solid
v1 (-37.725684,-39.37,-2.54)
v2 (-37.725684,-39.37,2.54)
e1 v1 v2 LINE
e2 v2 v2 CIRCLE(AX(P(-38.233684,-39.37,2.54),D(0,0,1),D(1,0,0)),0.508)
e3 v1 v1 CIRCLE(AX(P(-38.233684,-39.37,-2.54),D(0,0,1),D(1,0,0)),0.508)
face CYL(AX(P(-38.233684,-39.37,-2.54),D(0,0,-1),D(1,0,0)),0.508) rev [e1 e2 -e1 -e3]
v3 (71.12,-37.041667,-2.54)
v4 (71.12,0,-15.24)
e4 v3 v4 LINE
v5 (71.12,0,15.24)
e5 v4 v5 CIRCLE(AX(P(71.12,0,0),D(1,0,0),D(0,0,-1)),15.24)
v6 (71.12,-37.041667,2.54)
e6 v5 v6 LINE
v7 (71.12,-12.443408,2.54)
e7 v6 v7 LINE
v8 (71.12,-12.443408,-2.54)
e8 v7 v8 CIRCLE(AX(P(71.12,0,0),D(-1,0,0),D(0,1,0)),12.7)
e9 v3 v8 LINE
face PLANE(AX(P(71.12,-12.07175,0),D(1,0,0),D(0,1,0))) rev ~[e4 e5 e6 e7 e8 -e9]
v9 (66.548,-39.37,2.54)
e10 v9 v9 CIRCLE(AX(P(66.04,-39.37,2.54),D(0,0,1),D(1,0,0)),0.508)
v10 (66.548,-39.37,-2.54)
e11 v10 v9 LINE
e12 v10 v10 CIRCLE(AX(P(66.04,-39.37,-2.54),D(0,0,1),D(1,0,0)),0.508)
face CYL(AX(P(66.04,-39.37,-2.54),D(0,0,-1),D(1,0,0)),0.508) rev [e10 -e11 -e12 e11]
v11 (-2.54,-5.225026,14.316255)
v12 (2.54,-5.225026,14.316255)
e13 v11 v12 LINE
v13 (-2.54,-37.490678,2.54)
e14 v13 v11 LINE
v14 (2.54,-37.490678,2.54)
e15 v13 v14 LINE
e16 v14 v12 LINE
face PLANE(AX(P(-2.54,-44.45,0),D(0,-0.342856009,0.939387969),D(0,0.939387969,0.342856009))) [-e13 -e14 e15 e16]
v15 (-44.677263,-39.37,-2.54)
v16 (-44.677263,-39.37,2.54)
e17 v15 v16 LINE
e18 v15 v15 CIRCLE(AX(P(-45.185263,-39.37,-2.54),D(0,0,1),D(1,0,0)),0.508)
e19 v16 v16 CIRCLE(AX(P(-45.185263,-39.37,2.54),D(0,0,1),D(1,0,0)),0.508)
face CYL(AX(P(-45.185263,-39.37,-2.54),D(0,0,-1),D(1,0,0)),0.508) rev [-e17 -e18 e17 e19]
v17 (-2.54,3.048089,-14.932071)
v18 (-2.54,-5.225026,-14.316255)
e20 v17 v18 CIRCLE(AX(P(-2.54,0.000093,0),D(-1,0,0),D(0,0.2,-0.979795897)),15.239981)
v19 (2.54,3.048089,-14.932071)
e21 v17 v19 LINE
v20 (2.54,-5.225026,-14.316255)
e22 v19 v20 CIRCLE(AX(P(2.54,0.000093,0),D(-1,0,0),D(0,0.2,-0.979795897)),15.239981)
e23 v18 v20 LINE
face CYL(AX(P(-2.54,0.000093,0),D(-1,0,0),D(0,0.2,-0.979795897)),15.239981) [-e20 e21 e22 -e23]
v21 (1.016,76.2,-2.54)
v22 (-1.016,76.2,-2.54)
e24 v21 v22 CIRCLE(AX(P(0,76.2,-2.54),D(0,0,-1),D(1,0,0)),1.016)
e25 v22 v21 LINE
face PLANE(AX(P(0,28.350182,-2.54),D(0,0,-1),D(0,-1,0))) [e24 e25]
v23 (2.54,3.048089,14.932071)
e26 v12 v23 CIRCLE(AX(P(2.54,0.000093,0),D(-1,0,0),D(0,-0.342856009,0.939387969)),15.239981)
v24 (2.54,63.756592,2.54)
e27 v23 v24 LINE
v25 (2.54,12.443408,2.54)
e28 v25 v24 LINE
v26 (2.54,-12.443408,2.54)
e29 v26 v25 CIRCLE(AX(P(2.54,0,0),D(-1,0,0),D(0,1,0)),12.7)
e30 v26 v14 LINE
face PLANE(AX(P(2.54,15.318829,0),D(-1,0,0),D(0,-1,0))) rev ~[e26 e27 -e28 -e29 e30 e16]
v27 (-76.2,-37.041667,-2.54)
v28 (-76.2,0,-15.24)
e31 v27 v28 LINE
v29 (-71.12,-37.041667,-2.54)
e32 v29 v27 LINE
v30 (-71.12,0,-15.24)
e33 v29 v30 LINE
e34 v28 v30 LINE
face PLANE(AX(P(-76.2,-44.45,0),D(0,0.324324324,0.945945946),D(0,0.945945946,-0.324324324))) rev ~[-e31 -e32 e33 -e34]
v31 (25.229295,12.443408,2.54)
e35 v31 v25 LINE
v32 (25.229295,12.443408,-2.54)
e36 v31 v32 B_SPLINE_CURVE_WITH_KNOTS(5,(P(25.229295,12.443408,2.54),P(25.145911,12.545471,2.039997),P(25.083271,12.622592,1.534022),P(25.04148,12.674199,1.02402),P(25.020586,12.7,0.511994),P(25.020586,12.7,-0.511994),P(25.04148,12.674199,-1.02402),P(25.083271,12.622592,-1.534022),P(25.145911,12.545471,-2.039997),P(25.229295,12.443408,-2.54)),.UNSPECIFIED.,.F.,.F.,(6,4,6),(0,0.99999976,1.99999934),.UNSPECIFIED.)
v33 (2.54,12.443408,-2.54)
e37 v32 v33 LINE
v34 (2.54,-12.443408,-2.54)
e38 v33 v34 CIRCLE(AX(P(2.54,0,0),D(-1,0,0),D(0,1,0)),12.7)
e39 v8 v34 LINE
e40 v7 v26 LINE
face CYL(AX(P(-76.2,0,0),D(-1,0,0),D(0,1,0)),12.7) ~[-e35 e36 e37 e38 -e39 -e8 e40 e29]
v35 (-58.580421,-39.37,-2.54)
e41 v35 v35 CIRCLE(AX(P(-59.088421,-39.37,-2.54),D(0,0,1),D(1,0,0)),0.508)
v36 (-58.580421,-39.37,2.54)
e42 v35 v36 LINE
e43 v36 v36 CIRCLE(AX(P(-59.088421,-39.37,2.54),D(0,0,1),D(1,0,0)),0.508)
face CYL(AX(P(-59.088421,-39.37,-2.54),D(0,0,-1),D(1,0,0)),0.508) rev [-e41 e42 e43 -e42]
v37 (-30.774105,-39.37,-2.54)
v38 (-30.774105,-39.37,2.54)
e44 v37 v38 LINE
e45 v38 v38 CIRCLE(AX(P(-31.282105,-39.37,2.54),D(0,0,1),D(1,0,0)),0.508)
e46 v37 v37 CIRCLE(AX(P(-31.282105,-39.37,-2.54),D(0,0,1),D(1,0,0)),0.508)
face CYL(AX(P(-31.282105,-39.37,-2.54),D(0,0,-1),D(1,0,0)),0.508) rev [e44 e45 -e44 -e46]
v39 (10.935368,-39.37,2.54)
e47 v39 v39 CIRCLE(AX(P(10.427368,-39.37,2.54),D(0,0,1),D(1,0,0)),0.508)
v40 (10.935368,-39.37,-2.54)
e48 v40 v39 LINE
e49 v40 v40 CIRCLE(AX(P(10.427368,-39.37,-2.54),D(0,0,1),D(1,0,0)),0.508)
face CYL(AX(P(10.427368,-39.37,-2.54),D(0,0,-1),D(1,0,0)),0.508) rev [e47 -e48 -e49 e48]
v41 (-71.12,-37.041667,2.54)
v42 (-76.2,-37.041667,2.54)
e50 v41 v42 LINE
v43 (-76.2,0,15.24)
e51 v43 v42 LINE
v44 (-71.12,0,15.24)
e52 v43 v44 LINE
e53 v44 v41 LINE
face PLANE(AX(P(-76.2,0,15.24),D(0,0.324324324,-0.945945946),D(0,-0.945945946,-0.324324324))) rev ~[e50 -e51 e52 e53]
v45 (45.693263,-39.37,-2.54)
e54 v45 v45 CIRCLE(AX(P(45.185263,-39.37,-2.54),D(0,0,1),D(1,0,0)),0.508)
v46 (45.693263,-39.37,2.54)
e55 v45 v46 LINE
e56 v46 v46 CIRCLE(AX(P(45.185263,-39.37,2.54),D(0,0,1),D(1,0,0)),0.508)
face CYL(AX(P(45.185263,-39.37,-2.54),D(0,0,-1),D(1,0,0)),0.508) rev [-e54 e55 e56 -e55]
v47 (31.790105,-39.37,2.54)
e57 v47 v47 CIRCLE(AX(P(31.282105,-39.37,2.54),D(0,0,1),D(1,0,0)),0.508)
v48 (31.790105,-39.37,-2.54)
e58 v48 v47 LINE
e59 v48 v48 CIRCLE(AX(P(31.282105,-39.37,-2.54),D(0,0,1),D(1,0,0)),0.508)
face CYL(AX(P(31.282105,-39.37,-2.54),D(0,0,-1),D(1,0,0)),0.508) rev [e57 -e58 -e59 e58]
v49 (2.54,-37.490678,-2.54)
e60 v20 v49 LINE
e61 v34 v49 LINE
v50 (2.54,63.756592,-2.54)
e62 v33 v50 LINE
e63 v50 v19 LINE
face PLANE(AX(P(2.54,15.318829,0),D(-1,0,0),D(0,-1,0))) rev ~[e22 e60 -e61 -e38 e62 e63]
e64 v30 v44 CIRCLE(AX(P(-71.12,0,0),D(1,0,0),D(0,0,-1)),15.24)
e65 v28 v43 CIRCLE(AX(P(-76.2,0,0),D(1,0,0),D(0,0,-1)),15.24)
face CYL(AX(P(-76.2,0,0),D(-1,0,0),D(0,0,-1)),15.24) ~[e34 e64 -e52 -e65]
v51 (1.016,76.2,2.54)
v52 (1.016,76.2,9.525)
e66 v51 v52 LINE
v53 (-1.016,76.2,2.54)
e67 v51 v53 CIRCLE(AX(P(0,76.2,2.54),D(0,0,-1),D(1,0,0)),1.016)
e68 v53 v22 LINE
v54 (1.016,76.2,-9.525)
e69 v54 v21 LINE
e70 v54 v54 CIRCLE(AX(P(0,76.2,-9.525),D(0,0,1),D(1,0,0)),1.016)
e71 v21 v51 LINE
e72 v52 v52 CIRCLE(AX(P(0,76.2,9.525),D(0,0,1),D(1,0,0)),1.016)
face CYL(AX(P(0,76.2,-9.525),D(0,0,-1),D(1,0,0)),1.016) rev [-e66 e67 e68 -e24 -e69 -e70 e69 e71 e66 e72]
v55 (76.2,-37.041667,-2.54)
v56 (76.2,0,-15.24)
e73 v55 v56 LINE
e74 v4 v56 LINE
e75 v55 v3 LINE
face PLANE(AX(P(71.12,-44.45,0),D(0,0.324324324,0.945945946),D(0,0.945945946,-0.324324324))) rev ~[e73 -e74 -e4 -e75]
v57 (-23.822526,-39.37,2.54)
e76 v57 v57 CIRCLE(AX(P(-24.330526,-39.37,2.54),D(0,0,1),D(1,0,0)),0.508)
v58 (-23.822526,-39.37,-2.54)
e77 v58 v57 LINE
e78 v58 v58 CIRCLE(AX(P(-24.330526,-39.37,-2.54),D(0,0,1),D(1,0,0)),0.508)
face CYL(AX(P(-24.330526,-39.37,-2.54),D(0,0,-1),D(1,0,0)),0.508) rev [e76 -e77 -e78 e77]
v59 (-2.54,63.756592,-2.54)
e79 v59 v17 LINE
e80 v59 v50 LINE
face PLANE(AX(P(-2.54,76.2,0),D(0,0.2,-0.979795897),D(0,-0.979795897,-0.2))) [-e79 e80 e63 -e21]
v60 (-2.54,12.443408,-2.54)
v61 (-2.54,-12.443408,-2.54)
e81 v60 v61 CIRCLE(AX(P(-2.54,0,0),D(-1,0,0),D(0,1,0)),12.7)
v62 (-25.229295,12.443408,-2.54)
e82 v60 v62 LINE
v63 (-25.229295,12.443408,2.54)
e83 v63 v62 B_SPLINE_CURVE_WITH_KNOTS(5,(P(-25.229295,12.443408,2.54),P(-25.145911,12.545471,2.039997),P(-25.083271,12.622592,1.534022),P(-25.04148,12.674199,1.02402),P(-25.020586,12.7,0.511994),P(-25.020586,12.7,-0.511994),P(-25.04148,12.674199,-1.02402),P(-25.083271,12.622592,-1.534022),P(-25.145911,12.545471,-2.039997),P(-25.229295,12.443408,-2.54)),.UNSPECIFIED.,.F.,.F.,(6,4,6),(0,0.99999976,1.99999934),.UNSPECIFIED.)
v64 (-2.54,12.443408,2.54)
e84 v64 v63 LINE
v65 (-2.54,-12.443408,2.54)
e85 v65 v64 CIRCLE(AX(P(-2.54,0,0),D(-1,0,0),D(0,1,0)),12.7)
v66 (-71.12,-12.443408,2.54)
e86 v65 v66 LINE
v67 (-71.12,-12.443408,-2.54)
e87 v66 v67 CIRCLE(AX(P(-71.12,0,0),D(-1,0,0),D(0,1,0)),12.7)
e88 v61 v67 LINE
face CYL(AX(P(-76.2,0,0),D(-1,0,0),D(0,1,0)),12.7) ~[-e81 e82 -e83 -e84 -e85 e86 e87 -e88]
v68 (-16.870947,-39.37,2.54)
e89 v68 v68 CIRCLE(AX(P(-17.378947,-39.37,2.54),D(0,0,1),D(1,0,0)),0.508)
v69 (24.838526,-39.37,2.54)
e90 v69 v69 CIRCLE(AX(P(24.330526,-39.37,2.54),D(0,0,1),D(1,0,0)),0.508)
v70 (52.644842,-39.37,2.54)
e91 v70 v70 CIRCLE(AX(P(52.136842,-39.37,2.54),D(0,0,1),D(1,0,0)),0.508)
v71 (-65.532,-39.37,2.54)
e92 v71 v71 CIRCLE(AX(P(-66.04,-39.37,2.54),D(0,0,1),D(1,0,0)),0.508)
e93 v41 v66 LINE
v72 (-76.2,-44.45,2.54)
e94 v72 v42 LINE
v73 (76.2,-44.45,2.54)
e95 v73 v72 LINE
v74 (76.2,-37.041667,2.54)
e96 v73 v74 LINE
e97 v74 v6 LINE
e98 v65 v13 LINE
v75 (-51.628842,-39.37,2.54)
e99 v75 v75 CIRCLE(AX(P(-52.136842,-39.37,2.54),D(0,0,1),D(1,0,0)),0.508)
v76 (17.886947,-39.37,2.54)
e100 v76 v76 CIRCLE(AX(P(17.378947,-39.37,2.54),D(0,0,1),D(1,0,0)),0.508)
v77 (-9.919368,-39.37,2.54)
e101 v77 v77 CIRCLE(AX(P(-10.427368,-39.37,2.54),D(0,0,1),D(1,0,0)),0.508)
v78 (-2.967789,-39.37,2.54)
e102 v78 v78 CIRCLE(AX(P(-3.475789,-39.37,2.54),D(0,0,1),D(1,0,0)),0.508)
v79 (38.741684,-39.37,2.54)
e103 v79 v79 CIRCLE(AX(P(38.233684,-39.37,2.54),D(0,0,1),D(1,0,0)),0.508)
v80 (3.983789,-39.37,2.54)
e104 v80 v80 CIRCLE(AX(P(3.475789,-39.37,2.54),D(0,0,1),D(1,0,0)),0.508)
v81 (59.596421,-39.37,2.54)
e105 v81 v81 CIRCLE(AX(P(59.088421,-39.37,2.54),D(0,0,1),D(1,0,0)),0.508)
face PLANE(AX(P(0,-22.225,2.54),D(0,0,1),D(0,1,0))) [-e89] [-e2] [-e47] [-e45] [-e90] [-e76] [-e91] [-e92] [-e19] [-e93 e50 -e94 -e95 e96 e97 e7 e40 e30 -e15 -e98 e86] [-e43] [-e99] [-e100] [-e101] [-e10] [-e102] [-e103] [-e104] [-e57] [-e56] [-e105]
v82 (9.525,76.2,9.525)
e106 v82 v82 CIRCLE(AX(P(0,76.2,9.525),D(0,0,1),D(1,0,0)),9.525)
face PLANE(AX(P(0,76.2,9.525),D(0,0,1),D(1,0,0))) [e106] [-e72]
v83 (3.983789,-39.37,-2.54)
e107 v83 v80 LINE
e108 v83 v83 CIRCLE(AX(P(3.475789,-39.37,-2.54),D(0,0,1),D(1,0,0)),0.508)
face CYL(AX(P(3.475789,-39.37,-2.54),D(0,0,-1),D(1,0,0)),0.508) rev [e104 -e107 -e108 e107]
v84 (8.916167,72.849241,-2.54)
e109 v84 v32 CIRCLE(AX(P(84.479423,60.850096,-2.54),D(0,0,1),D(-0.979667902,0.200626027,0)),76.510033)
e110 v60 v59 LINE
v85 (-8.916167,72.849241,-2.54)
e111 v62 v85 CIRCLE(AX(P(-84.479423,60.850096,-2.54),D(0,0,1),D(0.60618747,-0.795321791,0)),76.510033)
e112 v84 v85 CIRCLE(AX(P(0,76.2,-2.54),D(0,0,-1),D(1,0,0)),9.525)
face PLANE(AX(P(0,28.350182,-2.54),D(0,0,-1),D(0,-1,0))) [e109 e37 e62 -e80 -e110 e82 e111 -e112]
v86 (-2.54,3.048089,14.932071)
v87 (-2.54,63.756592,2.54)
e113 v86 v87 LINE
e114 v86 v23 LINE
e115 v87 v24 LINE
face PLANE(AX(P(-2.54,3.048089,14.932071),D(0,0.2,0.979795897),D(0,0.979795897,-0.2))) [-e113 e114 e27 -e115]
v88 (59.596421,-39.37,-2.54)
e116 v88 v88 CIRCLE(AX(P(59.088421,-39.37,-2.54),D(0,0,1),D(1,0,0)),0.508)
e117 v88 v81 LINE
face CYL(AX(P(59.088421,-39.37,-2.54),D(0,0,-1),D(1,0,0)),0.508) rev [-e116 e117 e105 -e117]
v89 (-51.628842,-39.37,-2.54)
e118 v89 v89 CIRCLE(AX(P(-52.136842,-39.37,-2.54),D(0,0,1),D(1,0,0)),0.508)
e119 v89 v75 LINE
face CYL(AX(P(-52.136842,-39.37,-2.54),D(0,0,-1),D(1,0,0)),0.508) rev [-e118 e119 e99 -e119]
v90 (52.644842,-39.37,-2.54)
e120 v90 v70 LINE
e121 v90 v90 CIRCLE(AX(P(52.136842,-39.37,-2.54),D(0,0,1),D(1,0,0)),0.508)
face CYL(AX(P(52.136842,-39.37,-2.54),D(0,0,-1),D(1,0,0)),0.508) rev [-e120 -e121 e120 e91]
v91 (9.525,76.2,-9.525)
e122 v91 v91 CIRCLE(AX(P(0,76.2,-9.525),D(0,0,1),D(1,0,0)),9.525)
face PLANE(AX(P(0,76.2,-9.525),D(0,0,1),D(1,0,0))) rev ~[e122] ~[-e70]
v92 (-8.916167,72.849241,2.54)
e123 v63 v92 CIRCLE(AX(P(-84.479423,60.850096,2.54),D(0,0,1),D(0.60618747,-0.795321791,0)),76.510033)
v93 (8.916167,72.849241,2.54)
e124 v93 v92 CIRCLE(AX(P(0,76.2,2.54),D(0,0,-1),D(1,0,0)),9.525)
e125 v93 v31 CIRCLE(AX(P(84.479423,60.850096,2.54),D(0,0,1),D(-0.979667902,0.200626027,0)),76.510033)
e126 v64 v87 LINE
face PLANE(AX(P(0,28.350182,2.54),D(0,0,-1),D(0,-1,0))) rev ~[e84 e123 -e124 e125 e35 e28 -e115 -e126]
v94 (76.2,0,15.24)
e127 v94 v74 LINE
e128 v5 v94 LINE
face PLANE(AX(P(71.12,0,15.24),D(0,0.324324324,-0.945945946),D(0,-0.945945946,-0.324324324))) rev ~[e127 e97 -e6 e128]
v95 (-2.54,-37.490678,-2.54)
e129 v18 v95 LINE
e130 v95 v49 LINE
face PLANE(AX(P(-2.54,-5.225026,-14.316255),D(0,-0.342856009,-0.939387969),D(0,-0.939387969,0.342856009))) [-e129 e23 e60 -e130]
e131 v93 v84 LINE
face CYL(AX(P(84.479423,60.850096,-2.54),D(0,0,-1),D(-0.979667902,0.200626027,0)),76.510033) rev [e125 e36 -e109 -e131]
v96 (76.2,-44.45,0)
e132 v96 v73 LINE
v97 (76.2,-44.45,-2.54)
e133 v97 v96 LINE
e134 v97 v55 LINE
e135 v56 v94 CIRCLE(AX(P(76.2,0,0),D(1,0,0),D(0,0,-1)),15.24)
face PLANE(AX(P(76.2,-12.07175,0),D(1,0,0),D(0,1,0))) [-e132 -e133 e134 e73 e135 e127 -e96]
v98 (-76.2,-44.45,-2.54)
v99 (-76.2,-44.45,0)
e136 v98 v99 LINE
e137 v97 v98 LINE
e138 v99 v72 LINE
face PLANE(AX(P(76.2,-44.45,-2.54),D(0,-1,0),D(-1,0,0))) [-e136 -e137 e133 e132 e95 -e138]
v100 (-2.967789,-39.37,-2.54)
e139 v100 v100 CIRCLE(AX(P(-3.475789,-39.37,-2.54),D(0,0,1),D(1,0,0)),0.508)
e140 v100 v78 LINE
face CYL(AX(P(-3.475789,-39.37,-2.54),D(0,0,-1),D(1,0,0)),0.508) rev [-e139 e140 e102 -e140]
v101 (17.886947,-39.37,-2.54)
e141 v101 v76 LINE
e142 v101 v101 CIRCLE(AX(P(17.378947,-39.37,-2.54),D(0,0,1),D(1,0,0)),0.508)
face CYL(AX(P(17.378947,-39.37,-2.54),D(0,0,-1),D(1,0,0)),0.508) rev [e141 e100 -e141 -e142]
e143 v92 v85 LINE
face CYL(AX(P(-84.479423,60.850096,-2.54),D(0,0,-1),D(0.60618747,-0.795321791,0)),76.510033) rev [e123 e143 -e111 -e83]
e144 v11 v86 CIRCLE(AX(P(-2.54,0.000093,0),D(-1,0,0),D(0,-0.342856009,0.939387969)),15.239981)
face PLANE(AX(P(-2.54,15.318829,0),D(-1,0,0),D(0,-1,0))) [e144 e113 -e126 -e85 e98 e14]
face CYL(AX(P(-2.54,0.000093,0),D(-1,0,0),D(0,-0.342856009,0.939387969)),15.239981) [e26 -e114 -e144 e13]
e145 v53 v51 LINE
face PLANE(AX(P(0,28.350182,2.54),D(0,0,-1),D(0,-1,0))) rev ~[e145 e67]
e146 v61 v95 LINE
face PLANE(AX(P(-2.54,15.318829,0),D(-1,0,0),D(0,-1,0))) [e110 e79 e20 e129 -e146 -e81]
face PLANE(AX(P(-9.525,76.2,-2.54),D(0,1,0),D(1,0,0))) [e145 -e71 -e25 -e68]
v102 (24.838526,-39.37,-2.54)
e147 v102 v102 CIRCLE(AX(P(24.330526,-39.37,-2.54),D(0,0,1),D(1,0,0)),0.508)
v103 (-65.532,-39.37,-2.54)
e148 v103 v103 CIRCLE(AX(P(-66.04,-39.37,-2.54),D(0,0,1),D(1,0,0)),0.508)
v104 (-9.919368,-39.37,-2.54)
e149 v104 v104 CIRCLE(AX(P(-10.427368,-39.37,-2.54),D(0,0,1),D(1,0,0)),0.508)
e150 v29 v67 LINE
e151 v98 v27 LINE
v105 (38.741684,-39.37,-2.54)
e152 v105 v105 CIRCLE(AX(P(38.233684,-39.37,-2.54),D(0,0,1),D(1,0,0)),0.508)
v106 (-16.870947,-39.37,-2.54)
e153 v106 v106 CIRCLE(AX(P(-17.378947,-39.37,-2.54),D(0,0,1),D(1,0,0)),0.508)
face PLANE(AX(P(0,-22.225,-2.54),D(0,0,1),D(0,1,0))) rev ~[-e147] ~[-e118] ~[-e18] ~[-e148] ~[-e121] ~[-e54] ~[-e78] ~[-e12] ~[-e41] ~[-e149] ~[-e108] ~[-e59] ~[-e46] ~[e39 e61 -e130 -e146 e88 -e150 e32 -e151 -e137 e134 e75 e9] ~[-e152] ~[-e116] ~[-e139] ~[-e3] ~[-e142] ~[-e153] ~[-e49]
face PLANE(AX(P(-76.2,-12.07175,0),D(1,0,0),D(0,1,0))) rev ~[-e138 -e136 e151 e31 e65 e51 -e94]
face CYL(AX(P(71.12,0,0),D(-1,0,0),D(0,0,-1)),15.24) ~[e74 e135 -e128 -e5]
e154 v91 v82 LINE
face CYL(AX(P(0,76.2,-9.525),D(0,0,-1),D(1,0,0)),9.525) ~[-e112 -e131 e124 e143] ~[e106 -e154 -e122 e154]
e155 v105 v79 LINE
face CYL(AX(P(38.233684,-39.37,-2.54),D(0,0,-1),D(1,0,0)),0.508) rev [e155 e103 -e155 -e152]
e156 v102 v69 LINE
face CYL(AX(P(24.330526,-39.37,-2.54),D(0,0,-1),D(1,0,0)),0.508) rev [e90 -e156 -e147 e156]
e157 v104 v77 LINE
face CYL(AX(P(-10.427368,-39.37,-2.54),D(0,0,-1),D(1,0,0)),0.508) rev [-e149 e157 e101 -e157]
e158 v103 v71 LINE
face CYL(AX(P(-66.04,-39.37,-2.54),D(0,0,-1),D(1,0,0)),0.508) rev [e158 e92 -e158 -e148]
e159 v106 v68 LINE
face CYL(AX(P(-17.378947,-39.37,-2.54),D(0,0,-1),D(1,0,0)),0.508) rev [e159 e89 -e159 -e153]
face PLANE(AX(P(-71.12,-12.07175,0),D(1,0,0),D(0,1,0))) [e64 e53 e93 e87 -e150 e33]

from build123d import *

# Parameters (mm, degrees)
COEFFICIENTS_PLATE_DEPTH      = 2.54
COEFFICIENTS_PLATE_DEPTH_BACK = 2.54
COEFFICIENTS_PLATE_SKETCH_W   = 44.45
COEFFICIENTS_PLATE_SKETCH_H   = 152.4
COEFFICIENTS_PLATE_SKETCH_R   = 0.508
PIVOT_CYLINDER_DEPTH          = 76.2
PIVOT_CYLINDER_DEPTH_BACK     = 76.2
PIVOT_CYLINDER_SKETCH_R       = 12.7
EDGE_START                    = 71.12
EDGE_RIB_FRONT_DEPTH          = 5.08
EDGE_START_2                  = -76.2
EDGE_RIB_BACK_DEPTH           = 5.08
SUMMATION_PLATE_DEPTH         = 2.54
SUMMATION_PLATE_DEPTH_BACK    = 2.54
SUMMATION_ANCHOR_DEPTH        = 9.525
SUMMATION_ANCHOR_DEPTH_BACK   = 9.525
SUMMATION_ANCHOR_SKETCH_R     = 9.525
SUMMATION_ANCHOR_SKETCH_R_2   = 1.016
MIDDLE_RIB_DEPTH              = 2.54
MIDDLE_RIB_DEPTH_BACK         = 2.54


with BuildPart() as part:
    # Coefficients Plate Sketch → Coefficients Plate (new, two sides: drawn at the far end of the back side and taken through both)
    with BuildSketch(Plane(origin=(0, 0, 0), x_dir=(0, 1, 0), z_dir=(0, 0, 1)).offset(-COEFFICIENTS_PLATE_DEPTH_BACK)):
        with Locations((-22.225, 0)):
            Rectangle(COEFFICIENTS_PLATE_SKETCH_W, COEFFICIENTS_PLATE_SKETCH_H)
        with Locations(Location((-39.37, -66.04, 0), (0, 0, 270))):
            Circle(COEFFICIENTS_PLATE_SKETCH_R, mode=Mode.SUBTRACT)
        with Locations(Location((-39.37, -59.088421053, 0), (0, 0, 270))):
            Circle(COEFFICIENTS_PLATE_SKETCH_R, mode=Mode.SUBTRACT)
        with Locations(Location((-39.37, -52.136842105, 0), (0, 0, 270))):
            Circle(COEFFICIENTS_PLATE_SKETCH_R, mode=Mode.SUBTRACT)
        with Locations(Location((-39.37, -45.185263158, 0), (0, 0, 270))):
            Circle(COEFFICIENTS_PLATE_SKETCH_R, mode=Mode.SUBTRACT)
        with Locations(Location((-39.37, -38.233684211, 0), (0, 0, 270))):
            Circle(COEFFICIENTS_PLATE_SKETCH_R, mode=Mode.SUBTRACT)
        with Locations(Location((-39.37, -31.282105263, 0), (0, 0, 270))):
            Circle(COEFFICIENTS_PLATE_SKETCH_R, mode=Mode.SUBTRACT)
        with Locations(Location((-39.37, -24.330526316, 0), (0, 0, 270))):
            Circle(COEFFICIENTS_PLATE_SKETCH_R, mode=Mode.SUBTRACT)
        with Locations(Location((-39.37, -17.378947368, 0), (0, 0, 270))):
            Circle(COEFFICIENTS_PLATE_SKETCH_R, mode=Mode.SUBTRACT)
        with Locations(Location((-39.37, -10.427368421, 0), (0, 0, 270))):
            Circle(COEFFICIENTS_PLATE_SKETCH_R, mode=Mode.SUBTRACT)
        with Locations(Location((-39.37, -3.475789474, 0), (0, 0, 270))):
            Circle(COEFFICIENTS_PLATE_SKETCH_R, mode=Mode.SUBTRACT)
        with Locations(Location((-39.37, 3.475789474, 0), (0, 0, 270))):
            Circle(COEFFICIENTS_PLATE_SKETCH_R, mode=Mode.SUBTRACT)
        with Locations(Location((-39.37, 10.427368421, 0), (0, 0, 270))):
            Circle(COEFFICIENTS_PLATE_SKETCH_R, mode=Mode.SUBTRACT)
        with Locations(Location((-39.37, 17.378947368, 0), (0, 0, 270))):
            Circle(COEFFICIENTS_PLATE_SKETCH_R, mode=Mode.SUBTRACT)
        with Locations(Location((-39.37, 24.330526316, 0), (0, 0, 270))):
            Circle(COEFFICIENTS_PLATE_SKETCH_R, mode=Mode.SUBTRACT)
        with Locations(Location((-39.37, 31.282105263, 0), (0, 0, 270))):
            Circle(COEFFICIENTS_PLATE_SKETCH_R, mode=Mode.SUBTRACT)
        with Locations(Location((-39.37, 38.233684211, 0), (0, 0, 270))):
            Circle(COEFFICIENTS_PLATE_SKETCH_R, mode=Mode.SUBTRACT)
        with Locations(Location((-39.37, 45.185263158, 0), (0, 0, 270))):
            Circle(COEFFICIENTS_PLATE_SKETCH_R, mode=Mode.SUBTRACT)
        with Locations(Location((-39.37, 52.136842105, 0), (0, 0, 270))):
            Circle(COEFFICIENTS_PLATE_SKETCH_R, mode=Mode.SUBTRACT)
        with Locations(Location((-39.37, 59.088421053, 0), (0, 0, 270))):
            Circle(COEFFICIENTS_PLATE_SKETCH_R, mode=Mode.SUBTRACT)
        with Locations(Location((-39.37, 66.04, 0), (0, 0, 270))):
            Circle(COEFFICIENTS_PLATE_SKETCH_R, mode=Mode.SUBTRACT)
    extrude(amount=COEFFICIENTS_PLATE_DEPTH + COEFFICIENTS_PLATE_DEPTH_BACK)

    # Pivot Cylinder Sketch → Pivot Cylinder (add, two sides: drawn at the far end of the back side and taken through both)
    with BuildSketch(Plane.YZ.offset(-PIVOT_CYLINDER_DEPTH_BACK)):
        Circle(PIVOT_CYLINDER_SKETCH_R)
    extrude(amount=PIVOT_CYLINDER_DEPTH + PIVOT_CYLINDER_DEPTH_BACK)

    # Edge Rib Front Sketch → Edge Rib Front (add)
    with BuildSketch(Plane.YZ.offset(EDGE_START)):
        with BuildLine():
            Line((0, 15.24), (-44.45, 0))
            Line((-44.45, 0), (0, -15.24))
            ThreePointArc((0, -15.24), (15.24, 0), (0, 15.24))
        make_face()
    extrude(amount=EDGE_RIB_FRONT_DEPTH)

    # Edge Rib Back Sketch → Edge Rib Back (add)
    with BuildSketch(Plane.YZ.offset(EDGE_START_2)):
        with BuildLine():
            Line((0, 15.24), (-44.45, 0))
            Line((-44.45, 0), (0, -15.24))
            ThreePointArc((0, -15.24), (15.24, 0), (0, 15.24))
        make_face()
    extrude(amount=EDGE_RIB_BACK_DEPTH)

    # Summation Plate Sketch → Summation Plate (add, two sides: drawn at the far end of the back side and taken through both)
    with BuildSketch(Plane(origin=(0, 0, 0), x_dir=(0, 1, 0), z_dir=(0, 0, 1)).offset(-SUMMATION_PLATE_DEPTH_BACK)):
        with BuildLine():
            Line((0, -38.1), (0, 38.1))
            ThreePointArc((0, 38.1), (33.985630195, 12.840847186), (76.2, 9.525))
            Line((76.2, 9.525), (76.2, -9.525))
            ThreePointArc((76.2, -9.525), (33.985630195, -12.840847186), (0, -38.1))
        make_face()
    extrude(amount=SUMMATION_PLATE_DEPTH + SUMMATION_PLATE_DEPTH_BACK)

    # Summation Anchor Sketch → Summation Anchor (add, two sides: drawn at the far end of the back side and taken through both)
    with BuildSketch(Plane(origin=(0, 0, 0), x_dir=(0, 1, 0), z_dir=(0, 0, 1)).offset(-SUMMATION_ANCHOR_DEPTH_BACK)):
        with Locations(Location((76.2, 0, 0), (0, 0, 270))):
            Circle(SUMMATION_ANCHOR_SKETCH_R)
        with Locations(Location((76.2, 0, 0), (0, 0, 270))):
            Circle(SUMMATION_ANCHOR_SKETCH_R_2, mode=Mode.SUBTRACT)
    extrude(amount=SUMMATION_ANCHOR_DEPTH + SUMMATION_ANCHOR_DEPTH_BACK)

    # Middle Rib Sketch → Middle Rib (add, two sides: drawn at the far end of the back side and taken through both)
    with BuildSketch(Plane.YZ.offset(-MIDDLE_RIB_DEPTH_BACK)):
        with BuildLine():
            Line((-44.45, 0), (-5.225026376, 14.316255211))
            ThreePointArc((-5.225026376, 14.316255211), (-1.131177872, 15.197936065), (3.048089123, 14.93207128))
            Line((3.048089123, 14.93207128), (76.2, 0))
            Line((76.2, 0), (3.048089123, -14.93207128))
            ThreePointArc((3.048089123, -14.93207128), (-1.131177872, -15.197936065), (-5.225026376, -14.316255211))
            Line((-5.225026376, -14.316255211), (-44.45, 0))
        make_face()
    extrude(amount=MIDDLE_RIB_DEPTH + MIDDLE_RIB_DEPTH_BACK)


solid = part.part
